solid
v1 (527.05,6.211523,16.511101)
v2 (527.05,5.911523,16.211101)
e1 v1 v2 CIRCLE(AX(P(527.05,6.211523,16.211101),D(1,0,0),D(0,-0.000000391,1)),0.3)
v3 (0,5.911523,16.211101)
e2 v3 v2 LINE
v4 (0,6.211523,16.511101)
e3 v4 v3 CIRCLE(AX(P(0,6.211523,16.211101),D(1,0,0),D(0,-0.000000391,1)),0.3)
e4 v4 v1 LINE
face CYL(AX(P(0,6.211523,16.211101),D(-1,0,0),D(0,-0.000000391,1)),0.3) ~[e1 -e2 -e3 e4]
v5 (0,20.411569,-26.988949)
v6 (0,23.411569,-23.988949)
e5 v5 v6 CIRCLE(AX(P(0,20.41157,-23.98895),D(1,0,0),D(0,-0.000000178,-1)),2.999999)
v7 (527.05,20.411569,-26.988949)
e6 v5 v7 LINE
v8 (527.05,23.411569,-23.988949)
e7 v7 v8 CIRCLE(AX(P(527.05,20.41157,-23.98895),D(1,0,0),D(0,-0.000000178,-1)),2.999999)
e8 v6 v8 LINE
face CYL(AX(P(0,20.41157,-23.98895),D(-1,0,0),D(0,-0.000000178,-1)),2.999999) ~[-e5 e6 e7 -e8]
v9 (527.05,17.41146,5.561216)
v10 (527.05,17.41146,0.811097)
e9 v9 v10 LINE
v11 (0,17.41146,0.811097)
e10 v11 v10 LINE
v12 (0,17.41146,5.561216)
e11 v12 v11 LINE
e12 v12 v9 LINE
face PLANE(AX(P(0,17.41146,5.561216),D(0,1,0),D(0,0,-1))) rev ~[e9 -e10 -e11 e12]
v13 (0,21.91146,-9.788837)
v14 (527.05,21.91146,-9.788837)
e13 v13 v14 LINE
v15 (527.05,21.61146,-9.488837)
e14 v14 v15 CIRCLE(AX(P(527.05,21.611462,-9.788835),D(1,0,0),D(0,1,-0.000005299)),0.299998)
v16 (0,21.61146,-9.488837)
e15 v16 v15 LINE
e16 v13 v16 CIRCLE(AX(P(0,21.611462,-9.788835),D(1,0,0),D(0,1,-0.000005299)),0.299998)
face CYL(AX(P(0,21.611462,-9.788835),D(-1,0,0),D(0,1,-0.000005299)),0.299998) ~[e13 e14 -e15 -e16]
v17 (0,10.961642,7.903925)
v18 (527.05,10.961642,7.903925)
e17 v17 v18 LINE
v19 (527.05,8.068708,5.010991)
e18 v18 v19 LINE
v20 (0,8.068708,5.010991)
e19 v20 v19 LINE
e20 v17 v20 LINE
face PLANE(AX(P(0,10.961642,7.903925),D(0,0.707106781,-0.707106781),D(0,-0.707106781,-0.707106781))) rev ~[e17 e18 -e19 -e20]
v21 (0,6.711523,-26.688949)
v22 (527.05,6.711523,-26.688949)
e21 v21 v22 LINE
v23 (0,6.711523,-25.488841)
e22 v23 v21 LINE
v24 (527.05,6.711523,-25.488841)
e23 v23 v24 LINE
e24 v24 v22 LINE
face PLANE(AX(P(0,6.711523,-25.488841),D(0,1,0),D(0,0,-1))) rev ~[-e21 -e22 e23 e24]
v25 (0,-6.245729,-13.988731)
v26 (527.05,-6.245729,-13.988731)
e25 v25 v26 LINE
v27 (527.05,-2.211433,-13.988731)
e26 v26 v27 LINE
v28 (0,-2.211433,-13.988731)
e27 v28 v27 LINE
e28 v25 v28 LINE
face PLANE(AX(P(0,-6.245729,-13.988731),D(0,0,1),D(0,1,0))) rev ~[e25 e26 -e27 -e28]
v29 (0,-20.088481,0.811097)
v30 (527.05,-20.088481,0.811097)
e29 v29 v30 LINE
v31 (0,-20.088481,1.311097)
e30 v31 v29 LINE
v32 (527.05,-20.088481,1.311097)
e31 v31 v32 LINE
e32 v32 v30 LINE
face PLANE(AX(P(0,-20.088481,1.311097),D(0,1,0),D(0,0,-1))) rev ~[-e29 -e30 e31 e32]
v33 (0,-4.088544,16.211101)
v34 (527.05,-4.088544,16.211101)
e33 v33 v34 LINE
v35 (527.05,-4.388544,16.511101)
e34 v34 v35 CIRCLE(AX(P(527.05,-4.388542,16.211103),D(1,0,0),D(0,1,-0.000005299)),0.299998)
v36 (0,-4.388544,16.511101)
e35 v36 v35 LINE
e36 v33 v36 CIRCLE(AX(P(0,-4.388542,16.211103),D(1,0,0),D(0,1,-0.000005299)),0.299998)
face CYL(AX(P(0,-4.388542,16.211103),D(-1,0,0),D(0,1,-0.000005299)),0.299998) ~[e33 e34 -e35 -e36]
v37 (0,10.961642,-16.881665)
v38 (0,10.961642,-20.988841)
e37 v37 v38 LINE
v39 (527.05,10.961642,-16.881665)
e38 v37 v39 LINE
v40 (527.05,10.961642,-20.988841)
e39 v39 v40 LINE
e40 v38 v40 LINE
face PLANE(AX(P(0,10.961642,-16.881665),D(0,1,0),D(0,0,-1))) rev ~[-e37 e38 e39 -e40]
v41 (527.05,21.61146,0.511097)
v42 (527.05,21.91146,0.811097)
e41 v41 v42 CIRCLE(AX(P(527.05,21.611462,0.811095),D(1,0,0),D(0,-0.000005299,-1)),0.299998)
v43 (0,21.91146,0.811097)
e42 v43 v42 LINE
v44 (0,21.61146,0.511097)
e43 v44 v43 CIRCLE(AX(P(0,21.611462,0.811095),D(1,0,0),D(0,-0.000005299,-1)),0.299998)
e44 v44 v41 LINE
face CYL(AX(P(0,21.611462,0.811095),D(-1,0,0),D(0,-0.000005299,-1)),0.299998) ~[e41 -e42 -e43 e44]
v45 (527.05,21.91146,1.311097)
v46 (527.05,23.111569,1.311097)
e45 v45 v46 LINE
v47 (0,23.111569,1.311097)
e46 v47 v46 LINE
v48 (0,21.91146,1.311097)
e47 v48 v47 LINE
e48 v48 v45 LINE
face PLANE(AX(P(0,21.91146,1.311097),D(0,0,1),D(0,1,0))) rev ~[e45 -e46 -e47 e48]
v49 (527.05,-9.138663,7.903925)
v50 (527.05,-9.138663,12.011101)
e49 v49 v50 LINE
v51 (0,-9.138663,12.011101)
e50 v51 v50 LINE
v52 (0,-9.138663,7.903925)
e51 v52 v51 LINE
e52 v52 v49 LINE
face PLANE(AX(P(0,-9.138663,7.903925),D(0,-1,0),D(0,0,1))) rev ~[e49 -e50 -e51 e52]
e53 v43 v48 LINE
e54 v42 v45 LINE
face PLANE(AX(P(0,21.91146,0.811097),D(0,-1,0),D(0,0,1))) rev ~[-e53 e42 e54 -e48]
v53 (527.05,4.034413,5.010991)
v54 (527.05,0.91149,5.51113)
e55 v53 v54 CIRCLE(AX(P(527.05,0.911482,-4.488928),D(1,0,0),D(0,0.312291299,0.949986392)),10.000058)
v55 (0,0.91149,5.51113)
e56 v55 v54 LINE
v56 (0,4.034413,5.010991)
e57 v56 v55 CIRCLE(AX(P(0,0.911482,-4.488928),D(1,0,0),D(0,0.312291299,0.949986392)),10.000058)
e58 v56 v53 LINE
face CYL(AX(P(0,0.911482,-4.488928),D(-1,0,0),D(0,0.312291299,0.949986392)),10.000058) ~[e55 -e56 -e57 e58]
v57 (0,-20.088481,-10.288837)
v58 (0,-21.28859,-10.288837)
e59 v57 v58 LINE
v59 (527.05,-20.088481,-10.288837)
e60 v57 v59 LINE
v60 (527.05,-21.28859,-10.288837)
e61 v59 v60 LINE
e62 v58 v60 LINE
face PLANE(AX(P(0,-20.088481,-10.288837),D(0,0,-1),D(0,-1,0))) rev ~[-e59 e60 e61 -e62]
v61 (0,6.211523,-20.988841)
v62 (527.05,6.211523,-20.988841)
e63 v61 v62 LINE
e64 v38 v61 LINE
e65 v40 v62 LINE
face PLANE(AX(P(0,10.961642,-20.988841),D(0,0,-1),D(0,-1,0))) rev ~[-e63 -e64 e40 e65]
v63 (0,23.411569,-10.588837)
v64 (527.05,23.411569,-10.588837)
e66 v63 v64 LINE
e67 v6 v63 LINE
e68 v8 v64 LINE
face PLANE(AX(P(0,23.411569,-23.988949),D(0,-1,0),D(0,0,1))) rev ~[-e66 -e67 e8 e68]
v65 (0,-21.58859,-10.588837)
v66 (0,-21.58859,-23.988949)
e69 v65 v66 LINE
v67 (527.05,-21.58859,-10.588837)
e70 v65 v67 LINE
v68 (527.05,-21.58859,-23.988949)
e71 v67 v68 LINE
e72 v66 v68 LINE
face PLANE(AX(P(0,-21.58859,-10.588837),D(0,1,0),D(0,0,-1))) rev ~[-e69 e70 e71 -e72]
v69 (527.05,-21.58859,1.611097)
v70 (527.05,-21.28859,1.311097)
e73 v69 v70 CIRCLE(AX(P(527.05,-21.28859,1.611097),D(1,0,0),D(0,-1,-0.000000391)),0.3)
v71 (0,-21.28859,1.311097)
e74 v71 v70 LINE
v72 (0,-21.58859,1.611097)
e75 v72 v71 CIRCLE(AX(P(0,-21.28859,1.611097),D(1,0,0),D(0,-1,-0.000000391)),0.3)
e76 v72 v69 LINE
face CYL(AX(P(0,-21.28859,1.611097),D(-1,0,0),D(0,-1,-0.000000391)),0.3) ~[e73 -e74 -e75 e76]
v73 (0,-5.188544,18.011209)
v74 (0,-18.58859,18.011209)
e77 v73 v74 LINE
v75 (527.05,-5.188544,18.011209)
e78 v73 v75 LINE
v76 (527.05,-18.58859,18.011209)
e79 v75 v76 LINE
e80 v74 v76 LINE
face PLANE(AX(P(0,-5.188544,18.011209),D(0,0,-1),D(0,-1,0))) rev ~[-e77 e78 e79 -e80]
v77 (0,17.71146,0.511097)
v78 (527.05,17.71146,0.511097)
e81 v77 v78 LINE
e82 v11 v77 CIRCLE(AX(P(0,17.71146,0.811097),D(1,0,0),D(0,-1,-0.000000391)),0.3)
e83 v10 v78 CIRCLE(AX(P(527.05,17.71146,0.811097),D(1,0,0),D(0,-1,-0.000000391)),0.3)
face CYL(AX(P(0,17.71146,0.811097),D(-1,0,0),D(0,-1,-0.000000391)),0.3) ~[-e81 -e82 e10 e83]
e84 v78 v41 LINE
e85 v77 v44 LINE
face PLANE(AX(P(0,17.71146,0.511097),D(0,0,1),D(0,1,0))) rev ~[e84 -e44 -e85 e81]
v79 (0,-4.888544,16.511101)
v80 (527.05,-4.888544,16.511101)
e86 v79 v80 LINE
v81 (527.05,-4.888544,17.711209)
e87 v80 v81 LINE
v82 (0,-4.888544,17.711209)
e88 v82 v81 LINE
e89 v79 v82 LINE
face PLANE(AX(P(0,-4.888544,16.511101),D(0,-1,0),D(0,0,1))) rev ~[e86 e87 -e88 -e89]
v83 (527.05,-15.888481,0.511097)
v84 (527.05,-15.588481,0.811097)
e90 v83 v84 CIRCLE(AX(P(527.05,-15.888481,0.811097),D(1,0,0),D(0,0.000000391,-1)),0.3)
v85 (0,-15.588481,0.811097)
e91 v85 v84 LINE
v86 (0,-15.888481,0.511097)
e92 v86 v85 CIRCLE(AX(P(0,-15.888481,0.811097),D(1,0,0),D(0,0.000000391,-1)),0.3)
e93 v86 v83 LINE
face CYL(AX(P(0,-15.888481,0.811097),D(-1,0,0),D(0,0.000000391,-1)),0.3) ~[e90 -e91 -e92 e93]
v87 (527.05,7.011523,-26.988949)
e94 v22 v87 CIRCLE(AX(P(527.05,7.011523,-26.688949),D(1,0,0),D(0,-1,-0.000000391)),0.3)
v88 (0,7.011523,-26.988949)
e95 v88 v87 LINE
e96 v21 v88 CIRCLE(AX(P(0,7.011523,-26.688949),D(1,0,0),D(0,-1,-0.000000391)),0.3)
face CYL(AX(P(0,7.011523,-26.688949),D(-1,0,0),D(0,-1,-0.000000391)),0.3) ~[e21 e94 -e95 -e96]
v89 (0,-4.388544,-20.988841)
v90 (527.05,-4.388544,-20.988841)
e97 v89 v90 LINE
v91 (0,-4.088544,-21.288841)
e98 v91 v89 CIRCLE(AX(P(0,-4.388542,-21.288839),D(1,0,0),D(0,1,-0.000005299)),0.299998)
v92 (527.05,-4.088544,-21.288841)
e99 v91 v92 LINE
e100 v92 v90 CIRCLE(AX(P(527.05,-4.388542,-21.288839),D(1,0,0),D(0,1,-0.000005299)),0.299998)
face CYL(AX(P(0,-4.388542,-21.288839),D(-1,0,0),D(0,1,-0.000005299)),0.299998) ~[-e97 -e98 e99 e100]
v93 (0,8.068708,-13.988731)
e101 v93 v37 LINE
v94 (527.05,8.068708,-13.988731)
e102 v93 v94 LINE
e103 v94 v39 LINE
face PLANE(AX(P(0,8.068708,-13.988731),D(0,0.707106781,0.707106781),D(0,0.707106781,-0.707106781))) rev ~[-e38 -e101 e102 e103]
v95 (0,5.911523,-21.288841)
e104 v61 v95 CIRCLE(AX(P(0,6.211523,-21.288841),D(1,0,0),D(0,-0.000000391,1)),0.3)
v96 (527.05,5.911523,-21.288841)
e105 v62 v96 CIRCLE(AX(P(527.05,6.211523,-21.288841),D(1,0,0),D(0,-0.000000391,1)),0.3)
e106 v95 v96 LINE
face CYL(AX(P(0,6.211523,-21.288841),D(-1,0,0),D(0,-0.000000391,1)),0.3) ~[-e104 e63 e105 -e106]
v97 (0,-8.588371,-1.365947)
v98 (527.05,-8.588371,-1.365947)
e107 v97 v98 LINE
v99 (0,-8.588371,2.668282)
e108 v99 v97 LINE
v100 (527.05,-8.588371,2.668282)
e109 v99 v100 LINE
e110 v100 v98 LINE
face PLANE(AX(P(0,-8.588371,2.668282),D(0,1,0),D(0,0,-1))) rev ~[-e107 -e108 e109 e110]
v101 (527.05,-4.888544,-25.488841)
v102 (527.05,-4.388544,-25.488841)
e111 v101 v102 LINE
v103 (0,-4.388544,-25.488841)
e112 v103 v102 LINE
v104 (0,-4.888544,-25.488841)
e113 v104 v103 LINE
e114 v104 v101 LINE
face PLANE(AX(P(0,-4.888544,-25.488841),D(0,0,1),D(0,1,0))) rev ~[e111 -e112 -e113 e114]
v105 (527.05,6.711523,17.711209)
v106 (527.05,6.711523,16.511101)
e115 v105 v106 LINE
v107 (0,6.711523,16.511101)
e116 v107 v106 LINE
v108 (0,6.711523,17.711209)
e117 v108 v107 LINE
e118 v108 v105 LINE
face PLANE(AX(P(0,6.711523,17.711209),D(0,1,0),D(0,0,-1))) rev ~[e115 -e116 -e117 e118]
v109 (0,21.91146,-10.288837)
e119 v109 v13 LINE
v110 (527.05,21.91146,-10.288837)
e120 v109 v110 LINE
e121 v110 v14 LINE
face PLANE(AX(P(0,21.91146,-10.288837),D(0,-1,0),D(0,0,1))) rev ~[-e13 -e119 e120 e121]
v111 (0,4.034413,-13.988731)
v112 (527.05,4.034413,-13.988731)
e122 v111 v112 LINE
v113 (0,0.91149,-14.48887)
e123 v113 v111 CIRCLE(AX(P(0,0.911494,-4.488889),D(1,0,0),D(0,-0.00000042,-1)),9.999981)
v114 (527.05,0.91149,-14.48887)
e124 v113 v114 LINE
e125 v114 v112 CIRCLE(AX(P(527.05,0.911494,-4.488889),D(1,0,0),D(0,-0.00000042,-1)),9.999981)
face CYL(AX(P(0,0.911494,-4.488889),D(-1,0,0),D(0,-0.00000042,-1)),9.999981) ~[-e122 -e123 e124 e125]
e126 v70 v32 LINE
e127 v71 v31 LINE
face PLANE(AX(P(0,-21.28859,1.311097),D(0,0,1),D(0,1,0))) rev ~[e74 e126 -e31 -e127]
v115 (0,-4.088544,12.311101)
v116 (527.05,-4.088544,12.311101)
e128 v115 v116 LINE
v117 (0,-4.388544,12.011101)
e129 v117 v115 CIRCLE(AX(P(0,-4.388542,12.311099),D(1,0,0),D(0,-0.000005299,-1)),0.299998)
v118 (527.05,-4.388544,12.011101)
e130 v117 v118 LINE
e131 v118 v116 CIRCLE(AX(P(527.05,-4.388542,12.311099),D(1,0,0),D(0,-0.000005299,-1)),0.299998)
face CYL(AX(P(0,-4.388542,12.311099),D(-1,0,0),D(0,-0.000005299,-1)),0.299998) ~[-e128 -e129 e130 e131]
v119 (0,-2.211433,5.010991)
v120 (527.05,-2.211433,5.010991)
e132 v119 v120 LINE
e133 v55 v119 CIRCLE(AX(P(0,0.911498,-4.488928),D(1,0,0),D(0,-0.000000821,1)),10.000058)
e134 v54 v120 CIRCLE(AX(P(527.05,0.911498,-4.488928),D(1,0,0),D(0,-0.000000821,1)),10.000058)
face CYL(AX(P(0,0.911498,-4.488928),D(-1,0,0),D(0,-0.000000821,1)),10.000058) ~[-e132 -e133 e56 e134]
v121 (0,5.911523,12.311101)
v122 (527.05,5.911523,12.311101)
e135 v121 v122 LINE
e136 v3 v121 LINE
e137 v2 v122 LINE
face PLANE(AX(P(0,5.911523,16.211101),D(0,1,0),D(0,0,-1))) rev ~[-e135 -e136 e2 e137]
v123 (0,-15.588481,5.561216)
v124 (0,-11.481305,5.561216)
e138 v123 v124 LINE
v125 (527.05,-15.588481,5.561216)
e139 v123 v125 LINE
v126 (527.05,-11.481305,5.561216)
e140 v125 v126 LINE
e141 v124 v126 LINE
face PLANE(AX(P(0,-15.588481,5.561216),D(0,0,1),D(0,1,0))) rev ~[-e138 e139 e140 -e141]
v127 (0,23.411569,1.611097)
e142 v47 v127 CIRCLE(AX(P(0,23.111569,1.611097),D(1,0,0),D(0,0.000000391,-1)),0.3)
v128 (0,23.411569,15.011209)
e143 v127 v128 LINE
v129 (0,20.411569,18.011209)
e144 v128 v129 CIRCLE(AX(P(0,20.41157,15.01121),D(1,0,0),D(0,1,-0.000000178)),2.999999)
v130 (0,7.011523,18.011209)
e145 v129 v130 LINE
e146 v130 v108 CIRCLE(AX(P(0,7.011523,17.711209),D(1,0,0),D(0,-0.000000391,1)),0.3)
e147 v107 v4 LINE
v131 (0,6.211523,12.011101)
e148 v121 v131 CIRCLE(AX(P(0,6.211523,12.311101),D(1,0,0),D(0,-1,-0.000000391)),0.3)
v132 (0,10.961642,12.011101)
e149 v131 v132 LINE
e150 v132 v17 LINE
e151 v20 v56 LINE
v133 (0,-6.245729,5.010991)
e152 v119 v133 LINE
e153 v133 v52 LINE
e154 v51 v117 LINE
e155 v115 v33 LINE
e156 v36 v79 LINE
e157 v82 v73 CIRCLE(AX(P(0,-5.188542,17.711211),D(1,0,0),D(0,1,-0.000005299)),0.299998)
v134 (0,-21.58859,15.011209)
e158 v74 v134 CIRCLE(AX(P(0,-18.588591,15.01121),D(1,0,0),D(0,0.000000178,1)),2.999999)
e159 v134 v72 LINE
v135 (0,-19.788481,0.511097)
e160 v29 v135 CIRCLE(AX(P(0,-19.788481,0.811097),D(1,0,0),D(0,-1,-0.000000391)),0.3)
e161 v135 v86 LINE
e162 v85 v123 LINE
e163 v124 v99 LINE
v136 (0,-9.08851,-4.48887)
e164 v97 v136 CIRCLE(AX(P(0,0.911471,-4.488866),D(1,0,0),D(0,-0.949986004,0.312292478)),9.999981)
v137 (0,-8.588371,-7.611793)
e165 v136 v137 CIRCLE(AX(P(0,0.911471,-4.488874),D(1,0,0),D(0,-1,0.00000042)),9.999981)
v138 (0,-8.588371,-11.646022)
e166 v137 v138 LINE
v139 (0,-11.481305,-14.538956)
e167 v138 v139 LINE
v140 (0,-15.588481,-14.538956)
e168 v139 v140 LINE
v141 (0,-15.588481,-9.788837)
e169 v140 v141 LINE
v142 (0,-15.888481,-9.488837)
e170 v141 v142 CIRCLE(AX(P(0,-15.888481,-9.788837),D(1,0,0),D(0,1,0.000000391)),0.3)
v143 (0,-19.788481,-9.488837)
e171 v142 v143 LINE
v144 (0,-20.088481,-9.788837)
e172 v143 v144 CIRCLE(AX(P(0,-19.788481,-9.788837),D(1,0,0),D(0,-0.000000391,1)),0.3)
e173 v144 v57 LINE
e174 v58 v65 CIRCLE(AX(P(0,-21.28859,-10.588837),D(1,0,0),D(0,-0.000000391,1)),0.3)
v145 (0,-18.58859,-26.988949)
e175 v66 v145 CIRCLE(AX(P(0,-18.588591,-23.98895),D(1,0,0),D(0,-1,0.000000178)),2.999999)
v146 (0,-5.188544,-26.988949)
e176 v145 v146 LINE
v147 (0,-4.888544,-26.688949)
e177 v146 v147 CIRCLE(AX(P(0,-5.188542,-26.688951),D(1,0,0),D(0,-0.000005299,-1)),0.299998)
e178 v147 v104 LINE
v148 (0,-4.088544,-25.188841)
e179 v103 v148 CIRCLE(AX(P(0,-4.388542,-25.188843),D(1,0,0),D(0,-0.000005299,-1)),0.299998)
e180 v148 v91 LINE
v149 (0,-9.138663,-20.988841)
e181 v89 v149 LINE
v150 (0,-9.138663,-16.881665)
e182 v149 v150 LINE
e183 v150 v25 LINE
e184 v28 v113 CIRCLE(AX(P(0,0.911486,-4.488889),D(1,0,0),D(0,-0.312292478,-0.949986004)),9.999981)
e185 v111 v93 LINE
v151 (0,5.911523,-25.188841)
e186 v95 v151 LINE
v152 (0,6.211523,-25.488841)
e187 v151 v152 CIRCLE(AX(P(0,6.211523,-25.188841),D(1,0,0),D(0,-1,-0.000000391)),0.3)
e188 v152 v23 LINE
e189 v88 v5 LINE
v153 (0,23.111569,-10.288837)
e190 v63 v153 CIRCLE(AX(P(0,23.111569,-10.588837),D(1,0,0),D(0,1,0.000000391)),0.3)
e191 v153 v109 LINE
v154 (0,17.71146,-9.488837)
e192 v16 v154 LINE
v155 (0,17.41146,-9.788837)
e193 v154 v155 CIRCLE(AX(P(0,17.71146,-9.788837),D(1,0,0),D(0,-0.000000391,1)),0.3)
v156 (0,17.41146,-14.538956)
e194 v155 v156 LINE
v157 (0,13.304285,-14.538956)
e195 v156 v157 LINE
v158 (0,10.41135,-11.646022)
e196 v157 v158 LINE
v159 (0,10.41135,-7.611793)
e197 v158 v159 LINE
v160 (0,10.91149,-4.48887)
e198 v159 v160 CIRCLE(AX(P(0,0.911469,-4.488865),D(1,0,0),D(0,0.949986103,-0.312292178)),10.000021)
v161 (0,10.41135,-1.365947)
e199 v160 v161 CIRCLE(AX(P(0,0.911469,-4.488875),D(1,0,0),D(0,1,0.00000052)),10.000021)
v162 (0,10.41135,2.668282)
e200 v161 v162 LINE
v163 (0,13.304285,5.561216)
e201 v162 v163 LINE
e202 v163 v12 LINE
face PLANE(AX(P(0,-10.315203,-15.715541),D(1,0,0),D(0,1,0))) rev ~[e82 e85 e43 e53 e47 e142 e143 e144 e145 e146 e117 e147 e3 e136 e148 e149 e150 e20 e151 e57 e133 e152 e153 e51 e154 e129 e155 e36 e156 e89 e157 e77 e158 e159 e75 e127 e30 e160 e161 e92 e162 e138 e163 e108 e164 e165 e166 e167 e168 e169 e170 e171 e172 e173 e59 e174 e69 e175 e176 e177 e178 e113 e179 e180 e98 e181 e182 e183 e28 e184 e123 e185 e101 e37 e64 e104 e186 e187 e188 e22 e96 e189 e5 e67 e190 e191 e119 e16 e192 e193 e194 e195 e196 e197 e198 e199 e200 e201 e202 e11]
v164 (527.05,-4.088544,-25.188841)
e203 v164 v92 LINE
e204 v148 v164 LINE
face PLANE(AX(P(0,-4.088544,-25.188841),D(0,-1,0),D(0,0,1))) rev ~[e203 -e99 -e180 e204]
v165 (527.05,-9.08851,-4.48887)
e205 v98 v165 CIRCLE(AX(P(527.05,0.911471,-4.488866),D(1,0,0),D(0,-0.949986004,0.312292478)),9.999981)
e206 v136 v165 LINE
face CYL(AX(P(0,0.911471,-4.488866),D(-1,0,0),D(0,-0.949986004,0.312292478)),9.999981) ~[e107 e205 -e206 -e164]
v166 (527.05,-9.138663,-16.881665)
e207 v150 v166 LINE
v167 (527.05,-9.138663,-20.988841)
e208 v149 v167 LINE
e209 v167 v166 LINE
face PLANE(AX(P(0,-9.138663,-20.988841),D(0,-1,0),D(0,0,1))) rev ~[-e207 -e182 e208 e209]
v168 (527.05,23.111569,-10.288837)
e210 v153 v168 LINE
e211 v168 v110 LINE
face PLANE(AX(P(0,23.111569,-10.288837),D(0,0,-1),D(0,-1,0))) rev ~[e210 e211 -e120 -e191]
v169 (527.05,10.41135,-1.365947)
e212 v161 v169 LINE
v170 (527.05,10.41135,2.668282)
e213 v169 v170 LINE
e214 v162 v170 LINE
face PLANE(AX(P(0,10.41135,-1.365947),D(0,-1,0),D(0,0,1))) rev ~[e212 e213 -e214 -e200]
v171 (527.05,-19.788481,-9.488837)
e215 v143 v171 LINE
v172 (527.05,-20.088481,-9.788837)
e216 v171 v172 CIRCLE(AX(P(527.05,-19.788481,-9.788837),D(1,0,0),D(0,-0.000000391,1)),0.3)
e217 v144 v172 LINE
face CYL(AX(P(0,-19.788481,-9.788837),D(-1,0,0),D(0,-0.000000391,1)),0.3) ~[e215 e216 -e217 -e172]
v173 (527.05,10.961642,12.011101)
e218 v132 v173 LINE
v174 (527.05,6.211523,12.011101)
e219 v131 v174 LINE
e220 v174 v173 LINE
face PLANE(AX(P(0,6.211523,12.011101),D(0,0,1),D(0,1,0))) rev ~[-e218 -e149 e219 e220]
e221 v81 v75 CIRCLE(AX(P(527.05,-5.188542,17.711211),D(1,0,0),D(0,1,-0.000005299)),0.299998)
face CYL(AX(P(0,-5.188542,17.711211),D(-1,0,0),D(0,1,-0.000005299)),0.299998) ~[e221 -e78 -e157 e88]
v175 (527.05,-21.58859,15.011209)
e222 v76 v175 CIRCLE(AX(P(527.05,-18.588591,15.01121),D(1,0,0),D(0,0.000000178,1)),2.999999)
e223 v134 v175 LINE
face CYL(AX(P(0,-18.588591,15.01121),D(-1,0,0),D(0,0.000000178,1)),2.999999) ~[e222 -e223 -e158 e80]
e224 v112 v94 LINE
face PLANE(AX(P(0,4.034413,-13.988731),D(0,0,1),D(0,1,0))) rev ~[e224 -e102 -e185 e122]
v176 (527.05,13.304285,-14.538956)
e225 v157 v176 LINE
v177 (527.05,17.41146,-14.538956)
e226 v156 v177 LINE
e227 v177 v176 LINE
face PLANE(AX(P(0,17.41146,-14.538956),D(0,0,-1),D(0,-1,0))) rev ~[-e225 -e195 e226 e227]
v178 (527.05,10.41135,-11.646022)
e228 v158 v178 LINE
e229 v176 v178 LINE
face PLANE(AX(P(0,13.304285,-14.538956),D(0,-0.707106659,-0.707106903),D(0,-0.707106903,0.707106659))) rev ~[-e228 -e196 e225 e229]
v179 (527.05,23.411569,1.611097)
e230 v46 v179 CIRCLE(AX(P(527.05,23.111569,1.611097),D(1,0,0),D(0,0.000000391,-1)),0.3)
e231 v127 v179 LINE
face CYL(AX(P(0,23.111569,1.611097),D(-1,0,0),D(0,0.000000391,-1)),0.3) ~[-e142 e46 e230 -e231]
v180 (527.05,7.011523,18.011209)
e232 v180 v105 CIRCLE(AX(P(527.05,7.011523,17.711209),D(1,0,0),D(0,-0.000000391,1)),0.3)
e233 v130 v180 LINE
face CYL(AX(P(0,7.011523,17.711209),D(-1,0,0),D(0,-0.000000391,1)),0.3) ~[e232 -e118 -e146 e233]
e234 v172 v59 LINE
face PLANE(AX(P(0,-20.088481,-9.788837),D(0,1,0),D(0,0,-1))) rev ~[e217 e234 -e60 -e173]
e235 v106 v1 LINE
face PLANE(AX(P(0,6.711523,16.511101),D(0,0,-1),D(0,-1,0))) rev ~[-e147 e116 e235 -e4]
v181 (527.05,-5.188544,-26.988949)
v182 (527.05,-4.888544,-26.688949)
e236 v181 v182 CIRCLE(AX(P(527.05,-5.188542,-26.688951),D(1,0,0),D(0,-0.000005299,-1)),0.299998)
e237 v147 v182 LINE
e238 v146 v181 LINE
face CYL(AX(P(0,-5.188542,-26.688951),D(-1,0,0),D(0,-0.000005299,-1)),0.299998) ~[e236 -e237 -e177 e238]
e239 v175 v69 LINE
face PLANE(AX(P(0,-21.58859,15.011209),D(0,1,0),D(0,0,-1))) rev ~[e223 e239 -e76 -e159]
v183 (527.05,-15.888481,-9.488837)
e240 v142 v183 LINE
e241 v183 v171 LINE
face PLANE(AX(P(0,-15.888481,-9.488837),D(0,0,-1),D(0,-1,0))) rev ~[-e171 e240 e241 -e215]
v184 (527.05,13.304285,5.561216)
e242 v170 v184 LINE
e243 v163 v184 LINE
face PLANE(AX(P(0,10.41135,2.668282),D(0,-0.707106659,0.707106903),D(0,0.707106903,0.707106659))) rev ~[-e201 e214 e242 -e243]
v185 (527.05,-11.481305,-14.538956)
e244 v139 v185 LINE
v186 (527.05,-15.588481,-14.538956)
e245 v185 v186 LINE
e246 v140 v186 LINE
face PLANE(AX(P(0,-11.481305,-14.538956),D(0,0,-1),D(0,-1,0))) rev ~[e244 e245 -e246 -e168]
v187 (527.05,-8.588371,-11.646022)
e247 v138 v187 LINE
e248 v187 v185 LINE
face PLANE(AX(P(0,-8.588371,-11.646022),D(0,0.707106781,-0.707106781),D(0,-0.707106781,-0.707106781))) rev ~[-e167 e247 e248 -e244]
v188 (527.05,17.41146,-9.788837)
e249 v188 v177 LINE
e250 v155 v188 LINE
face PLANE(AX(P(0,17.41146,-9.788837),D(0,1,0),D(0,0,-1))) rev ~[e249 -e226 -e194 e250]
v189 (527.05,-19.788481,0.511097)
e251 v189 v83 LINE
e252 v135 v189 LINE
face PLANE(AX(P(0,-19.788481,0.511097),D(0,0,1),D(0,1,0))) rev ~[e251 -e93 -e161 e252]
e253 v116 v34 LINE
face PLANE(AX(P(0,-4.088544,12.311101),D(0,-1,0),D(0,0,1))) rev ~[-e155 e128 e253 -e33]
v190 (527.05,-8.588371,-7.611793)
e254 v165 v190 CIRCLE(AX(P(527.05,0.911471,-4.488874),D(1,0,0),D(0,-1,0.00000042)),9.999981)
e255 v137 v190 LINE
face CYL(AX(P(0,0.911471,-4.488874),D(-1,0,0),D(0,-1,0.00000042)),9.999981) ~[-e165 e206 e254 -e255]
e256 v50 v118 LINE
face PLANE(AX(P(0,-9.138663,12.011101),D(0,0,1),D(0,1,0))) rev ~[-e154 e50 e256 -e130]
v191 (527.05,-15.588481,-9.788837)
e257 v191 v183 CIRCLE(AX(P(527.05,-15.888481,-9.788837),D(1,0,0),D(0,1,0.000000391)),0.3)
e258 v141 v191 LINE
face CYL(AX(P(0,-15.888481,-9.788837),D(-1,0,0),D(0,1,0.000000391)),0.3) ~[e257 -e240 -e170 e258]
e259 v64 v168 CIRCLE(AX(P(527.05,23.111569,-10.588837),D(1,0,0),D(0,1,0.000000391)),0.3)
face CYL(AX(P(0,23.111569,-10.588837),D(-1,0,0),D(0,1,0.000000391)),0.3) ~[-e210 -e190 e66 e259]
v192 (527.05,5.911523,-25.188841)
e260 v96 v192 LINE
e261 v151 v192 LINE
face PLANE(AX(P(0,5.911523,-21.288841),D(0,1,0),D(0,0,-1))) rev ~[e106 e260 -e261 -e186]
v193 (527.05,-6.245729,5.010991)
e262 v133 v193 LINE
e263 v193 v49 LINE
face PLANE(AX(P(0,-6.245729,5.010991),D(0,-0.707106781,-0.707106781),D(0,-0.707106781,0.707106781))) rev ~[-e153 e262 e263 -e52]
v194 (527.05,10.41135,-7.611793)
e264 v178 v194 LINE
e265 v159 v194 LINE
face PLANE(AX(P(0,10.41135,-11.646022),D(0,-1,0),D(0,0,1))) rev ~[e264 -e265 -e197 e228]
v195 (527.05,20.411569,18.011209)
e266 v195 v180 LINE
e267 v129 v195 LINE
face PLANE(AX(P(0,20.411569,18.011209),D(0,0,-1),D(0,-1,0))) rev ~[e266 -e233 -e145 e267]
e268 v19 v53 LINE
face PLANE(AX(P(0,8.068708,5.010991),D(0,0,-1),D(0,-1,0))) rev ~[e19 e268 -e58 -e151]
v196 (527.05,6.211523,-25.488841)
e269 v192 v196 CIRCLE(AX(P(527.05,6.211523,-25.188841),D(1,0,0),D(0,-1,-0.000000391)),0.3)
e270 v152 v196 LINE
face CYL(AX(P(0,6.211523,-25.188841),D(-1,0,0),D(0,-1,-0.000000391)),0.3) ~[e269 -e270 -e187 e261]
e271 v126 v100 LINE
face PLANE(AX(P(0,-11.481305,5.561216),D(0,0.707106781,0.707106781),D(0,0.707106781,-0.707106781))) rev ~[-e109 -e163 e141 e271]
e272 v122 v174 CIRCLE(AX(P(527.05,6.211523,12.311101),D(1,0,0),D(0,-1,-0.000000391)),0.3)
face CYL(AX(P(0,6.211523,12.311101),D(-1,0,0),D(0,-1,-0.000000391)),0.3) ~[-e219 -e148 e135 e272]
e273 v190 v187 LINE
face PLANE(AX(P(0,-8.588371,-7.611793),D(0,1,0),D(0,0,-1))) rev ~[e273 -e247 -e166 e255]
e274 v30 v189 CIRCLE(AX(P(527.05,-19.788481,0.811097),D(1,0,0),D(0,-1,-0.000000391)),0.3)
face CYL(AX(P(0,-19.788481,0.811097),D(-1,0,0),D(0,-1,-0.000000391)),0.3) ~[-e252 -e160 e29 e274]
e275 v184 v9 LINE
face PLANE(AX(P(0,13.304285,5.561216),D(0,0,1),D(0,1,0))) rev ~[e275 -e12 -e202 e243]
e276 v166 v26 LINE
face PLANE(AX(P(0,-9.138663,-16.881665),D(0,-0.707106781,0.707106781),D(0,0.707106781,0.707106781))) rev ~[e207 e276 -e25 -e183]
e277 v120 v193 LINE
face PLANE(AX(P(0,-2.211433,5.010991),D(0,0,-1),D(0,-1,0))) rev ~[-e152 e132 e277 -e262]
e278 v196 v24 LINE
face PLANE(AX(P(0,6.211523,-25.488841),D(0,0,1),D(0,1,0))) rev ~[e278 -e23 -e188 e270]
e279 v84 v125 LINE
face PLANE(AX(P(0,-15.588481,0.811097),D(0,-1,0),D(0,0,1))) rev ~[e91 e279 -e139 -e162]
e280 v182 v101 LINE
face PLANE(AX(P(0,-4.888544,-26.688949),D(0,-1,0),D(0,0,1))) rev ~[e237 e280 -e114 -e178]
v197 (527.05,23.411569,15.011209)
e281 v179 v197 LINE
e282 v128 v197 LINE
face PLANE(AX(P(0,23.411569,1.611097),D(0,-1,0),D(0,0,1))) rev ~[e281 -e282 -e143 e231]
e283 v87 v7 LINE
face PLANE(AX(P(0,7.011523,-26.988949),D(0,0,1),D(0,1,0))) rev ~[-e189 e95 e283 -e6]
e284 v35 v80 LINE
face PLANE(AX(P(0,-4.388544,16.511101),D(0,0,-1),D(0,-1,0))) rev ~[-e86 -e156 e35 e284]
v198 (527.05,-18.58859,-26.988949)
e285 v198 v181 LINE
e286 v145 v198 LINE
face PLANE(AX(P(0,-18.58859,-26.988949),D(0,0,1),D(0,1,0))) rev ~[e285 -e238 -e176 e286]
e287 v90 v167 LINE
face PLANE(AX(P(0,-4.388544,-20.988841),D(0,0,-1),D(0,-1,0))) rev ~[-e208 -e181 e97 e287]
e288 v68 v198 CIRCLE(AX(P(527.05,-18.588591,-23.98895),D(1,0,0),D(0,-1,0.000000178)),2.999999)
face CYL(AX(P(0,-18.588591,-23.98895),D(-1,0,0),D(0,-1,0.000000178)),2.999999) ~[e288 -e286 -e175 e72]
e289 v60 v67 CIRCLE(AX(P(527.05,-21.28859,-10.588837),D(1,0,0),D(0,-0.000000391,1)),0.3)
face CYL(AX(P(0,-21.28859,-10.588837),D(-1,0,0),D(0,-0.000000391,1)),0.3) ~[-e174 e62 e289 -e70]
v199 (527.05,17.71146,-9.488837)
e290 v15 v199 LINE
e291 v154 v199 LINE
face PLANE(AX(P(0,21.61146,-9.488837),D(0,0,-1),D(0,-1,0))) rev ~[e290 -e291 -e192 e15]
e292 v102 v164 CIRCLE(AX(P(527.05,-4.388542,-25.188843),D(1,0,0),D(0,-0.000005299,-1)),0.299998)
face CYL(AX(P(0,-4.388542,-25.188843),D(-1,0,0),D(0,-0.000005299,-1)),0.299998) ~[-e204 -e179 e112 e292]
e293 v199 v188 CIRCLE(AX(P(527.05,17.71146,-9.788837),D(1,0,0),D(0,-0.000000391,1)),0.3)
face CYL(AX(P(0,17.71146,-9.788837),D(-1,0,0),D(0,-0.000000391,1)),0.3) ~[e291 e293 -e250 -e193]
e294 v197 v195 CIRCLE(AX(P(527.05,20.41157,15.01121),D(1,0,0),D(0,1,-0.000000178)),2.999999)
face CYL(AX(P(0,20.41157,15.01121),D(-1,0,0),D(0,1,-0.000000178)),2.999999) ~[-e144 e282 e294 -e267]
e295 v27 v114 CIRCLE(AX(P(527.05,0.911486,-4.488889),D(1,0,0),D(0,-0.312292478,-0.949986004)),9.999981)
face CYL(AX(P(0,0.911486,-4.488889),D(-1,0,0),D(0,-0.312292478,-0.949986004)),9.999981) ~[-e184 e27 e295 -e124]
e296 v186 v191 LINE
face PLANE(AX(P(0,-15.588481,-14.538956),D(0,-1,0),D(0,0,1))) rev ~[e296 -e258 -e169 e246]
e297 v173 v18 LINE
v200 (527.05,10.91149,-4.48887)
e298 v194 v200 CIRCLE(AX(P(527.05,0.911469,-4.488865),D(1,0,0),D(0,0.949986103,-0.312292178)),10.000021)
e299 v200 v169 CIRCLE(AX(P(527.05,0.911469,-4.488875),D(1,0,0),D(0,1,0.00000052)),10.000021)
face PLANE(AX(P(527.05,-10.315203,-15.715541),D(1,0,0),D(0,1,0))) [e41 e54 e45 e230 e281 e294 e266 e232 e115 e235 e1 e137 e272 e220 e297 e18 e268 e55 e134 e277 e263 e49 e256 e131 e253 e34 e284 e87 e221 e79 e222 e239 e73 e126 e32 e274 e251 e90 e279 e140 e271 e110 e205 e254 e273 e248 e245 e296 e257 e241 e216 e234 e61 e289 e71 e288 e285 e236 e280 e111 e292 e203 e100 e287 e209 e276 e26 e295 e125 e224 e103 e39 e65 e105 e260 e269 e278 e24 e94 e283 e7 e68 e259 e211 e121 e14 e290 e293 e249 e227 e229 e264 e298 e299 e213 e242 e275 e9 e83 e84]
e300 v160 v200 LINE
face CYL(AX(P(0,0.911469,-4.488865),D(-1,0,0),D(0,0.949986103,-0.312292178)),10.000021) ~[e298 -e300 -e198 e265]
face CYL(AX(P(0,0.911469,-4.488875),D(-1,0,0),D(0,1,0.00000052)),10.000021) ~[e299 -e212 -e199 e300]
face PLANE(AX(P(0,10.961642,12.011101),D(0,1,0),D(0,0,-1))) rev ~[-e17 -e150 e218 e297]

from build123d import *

# Parameters (mm, degrees)
F1_DEPTH = 527.05


with BuildPart() as f1:
    # F0 (on Right) → F1 (new body)
    with BuildSketch(Plane.YZ):
        with BuildLine():
            Line((-20.088481, -9.788837), (-20.088481, -10.288837))
            Line((-20.088481, -10.288837), (-21.28859, -10.288837))
            ThreePointArc((-21.28859, -10.288837), (-21.500722, -10.376705), (-21.58859, -10.588837))
            Line((-21.58859, -10.588837), (-21.58859, -23.988949))
            ThreePointArc((-21.58859, -23.988949), (-20.70991, -26.11027), (-18.58859, -26.988949))
            Line((-18.58859, -26.988949), (-5.188544, -26.988949))
            ThreePointArc((-5.188544, -26.988949), (-4.976411, -26.901081), (-4.888544, -26.688949))
            Line((-4.888544, -26.688949), (-4.888544, -25.488841))
            Line((-4.888544, -25.488841), (-4.388544, -25.488841))
            ThreePointArc((-4.388544, -25.488841), (-4.176411, -25.400973), (-4.088544, -25.188841))
            Line((-4.088544, -25.188841), (-4.088544, -21.288841))
            ThreePointArc((-4.088544, -21.288841), (-4.176411, -21.076709), (-4.388544, -20.988841))
            Line((-4.388544, -20.988841), (-9.138663, -20.988841))
            Line((-9.138663, -20.988841), (-9.138663, -16.881665))
            Line((-9.138663, -16.881665), (-6.245729, -13.988731))
            Line((-6.245729, -13.988731), (-2.211433, -13.988731))
            ThreePointArc((-2.211433, -13.988731), (-0.669869, -14.363044), (0.91149, -14.48887))
            Line((0.91149, -14.48887), (0.91149, -4.48887))
            Line((0.91149, -4.48887), (-9.08851, -4.48887))
            ThreePointArc((-9.08851, -4.48887), (-8.962684, -6.070229), (-8.588371, -7.611793))
            Line((-8.588371, -7.611793), (-8.588371, -11.646022))
            Line((-8.588371, -11.646022), (-11.481305, -14.538956))
            Line((-11.481305, -14.538956), (-15.588481, -14.538956))
            Line((-15.588481, -14.538956), (-15.588481, -9.788837))
            ThreePointArc((-15.588481, -9.788837), (-15.676349, -9.576705), (-15.888481, -9.488837))
            Line((-15.888481, -9.488837), (-19.788481, -9.488837))
            ThreePointArc((-19.788481, -9.488837), (-20.000613, -9.576705), (-20.088481, -9.788837))
        make_face()
        with BuildLine():
            ThreePointArc((-8.588371, -1.365947), (-8.962684, -2.907511), (-9.08851, -4.48887))
            Line((-9.08851, -4.48887), (0.91149, -4.48887))
            Line((0.91149, -4.48887), (0.91149, 5.51113))
            ThreePointArc((0.91149, 5.51113), (-0.669869, 5.385303), (-2.211433, 5.010991))
            Line((-2.211433, 5.010991), (-6.245729, 5.010991))
            Line((-6.245729, 5.010991), (-9.138663, 7.903925))
            Line((-9.138663, 7.903925), (-9.138663, 12.011101))
            Line((-9.138663, 12.011101), (-4.388544, 12.011101))
            ThreePointArc((-4.388544, 12.011101), (-4.176411, 12.098969), (-4.088544, 12.311101))
            Line((-4.088544, 12.311101), (-4.088544, 16.211101))
            ThreePointArc((-4.088544, 16.211101), (-4.176411, 16.423233), (-4.388544, 16.511101))
            Line((-4.388544, 16.511101), (-4.888544, 16.511101))
            Line((-4.888544, 16.511101), (-4.888544, 17.711209))
            ThreePointArc((-4.888544, 17.711209), (-4.976411, 17.923341), (-5.188544, 18.011209))
            Line((-5.188544, 18.011209), (-18.58859, 18.011209))
            ThreePointArc((-18.58859, 18.011209), (-20.70991, 17.13253), (-21.58859, 15.011209))
            Line((-21.58859, 15.011209), (-21.58859, 1.611097))
            ThreePointArc((-21.58859, 1.611097), (-21.500722, 1.398965), (-21.28859, 1.311097))
            Line((-21.28859, 1.311097), (-20.088481, 1.311097))
            Line((-20.088481, 1.311097), (-20.088481, 0.811097))
            ThreePointArc((-20.088481, 0.811097), (-20.000613, 0.598965), (-19.788481, 0.511097))
            Line((-19.788481, 0.511097), (-15.888481, 0.511097))
            ThreePointArc((-15.888481, 0.511097), (-15.676349, 0.598965), (-15.588481, 0.811097))
            Line((-15.588481, 0.811097), (-15.588481, 5.561216))
            Line((-15.588481, 5.561216), (-11.481305, 5.561216))
            Line((-11.481305, 5.561216), (-8.588371, 2.668282))
            Line((-8.588371, 2.668282), (-8.588371, -1.365947))
        make_face()
        with BuildLine():
            Line((0.91149, 5.51113), (0.91149, -4.48887))
            Line((0.91149, -4.48887), (10.91149, -4.48887))
            ThreePointArc((10.91149, -4.48887), (10.785663, -2.907511), (10.41135, -1.365947))
            Line((10.41135, -1.365947), (10.41135, 2.668282))
            Line((10.41135, 2.668282), (13.304285, 5.561216))
            Line((13.304285, 5.561216), (14.016842, 5.561216))
            Line((14.016842, 5.561216), (17.41146, 5.561216))
            Line((17.41146, 5.561216), (17.41146, 0.811097))
            ThreePointArc((17.41146, 0.811097), (17.499328, 0.598965), (17.71146, 0.511097))
            Line((17.71146, 0.511097), (21.61146, 0.511097))
            ThreePointArc((21.61146, 0.511097), (21.823593, 0.598965), (21.91146, 0.811097))
            Line((21.91146, 0.811097), (21.91146, 1.311097))
            Line((21.91146, 1.311097), (23.111569, 1.311097))
            ThreePointArc((23.111569, 1.311097), (23.323701, 1.398965), (23.411569, 1.611097))
            Line((23.411569, 1.611097), (23.411569, 15.011209))
            ThreePointArc((23.411569, 15.011209), (22.532889, 17.13253), (20.411569, 18.011209))
            Line((20.411569, 18.011209), (7.011523, 18.011209))
            ThreePointArc((7.011523, 18.011209), (6.799391, 17.923341), (6.711523, 17.711209))
            Line((6.711523, 17.711209), (6.711523, 16.511101))
            Line((6.711523, 16.511101), (6.211523, 16.511101))
            ThreePointArc((6.211523, 16.511101), (5.999391, 16.423233), (5.911523, 16.211101))
            Line((5.911523, 16.211101), (5.911523, 12.311101))
            ThreePointArc((5.911523, 12.311101), (5.999391, 12.098969), (6.211523, 12.011101))
            Line((6.211523, 12.011101), (10.961642, 12.011101))
            Line((10.961642, 12.011101), (10.961642, 7.903925))
            Line((10.961642, 7.903925), (8.068708, 5.010991))
            Line((8.068708, 5.010991), (4.034413, 5.010991))
            ThreePointArc((4.034413, 5.010991), (2.492849, 5.385303), (0.91149, 5.51113))
        make_face()
        with BuildLine():
            Line((10.91149, -4.48887), (0.91149, -4.48887))
            Line((0.91149, -4.48887), (0.91149, -14.48887))
            ThreePointArc((0.91149, -14.48887), (2.492849, -14.363044), (4.034413, -13.988731))
            Line((4.034413, -13.988731), (8.068708, -13.988731))
            Line((8.068708, -13.988731), (10.961642, -16.881665))
            Line((10.961642, -16.881665), (10.961642, -20.988841))
            Line((10.961642, -20.988841), (6.211523, -20.988841))
            ThreePointArc((6.211523, -20.988841), (5.999391, -21.076709), (5.911523, -21.288841))
            Line((5.911523, -21.288841), (5.911523, -25.188841))
            ThreePointArc((5.911523, -25.188841), (5.999391, -25.400973), (6.211523, -25.488841))
            Line((6.211523, -25.488841), (6.711523, -25.488841))
            Line((6.711523, -25.488841), (6.711523, -26.688949))
            ThreePointArc((6.711523, -26.688949), (6.799391, -26.901081), (7.011523, -26.988949))
            Line((7.011523, -26.988949), (20.411569, -26.988949))
            ThreePointArc((20.411569, -26.988949), (22.532889, -26.11027), (23.411569, -23.988949))
            Line((23.411569, -23.988949), (23.411569, -10.588837))
            ThreePointArc((23.411569, -10.588837), (23.323701, -10.376705), (23.111569, -10.288837))
            Line((23.111569, -10.288837), (21.91146, -10.288837))
            Line((21.91146, -10.288837), (21.91146, -9.788837))
            ThreePointArc((21.91146, -9.788837), (21.823593, -9.576705), (21.61146, -9.488837))
            Line((21.61146, -9.488837), (17.71146, -9.488837))
            ThreePointArc((17.71146, -9.488837), (17.499328, -9.576705), (17.41146, -9.788837))
            Line((17.41146, -9.788837), (17.41146, -14.538956))
            Line((17.41146, -14.538956), (13.304285, -14.538956))
            Line((13.304285, -14.538956), (10.41135, -11.646022))
            Line((10.41135, -11.646022), (10.41135, -7.611793))
            ThreePointArc((10.41135, -7.611793), (10.785663, -6.070229), (10.91149, -4.48887))
        make_face()
    extrude(amount=F1_DEPTH)


solid = f1.part
